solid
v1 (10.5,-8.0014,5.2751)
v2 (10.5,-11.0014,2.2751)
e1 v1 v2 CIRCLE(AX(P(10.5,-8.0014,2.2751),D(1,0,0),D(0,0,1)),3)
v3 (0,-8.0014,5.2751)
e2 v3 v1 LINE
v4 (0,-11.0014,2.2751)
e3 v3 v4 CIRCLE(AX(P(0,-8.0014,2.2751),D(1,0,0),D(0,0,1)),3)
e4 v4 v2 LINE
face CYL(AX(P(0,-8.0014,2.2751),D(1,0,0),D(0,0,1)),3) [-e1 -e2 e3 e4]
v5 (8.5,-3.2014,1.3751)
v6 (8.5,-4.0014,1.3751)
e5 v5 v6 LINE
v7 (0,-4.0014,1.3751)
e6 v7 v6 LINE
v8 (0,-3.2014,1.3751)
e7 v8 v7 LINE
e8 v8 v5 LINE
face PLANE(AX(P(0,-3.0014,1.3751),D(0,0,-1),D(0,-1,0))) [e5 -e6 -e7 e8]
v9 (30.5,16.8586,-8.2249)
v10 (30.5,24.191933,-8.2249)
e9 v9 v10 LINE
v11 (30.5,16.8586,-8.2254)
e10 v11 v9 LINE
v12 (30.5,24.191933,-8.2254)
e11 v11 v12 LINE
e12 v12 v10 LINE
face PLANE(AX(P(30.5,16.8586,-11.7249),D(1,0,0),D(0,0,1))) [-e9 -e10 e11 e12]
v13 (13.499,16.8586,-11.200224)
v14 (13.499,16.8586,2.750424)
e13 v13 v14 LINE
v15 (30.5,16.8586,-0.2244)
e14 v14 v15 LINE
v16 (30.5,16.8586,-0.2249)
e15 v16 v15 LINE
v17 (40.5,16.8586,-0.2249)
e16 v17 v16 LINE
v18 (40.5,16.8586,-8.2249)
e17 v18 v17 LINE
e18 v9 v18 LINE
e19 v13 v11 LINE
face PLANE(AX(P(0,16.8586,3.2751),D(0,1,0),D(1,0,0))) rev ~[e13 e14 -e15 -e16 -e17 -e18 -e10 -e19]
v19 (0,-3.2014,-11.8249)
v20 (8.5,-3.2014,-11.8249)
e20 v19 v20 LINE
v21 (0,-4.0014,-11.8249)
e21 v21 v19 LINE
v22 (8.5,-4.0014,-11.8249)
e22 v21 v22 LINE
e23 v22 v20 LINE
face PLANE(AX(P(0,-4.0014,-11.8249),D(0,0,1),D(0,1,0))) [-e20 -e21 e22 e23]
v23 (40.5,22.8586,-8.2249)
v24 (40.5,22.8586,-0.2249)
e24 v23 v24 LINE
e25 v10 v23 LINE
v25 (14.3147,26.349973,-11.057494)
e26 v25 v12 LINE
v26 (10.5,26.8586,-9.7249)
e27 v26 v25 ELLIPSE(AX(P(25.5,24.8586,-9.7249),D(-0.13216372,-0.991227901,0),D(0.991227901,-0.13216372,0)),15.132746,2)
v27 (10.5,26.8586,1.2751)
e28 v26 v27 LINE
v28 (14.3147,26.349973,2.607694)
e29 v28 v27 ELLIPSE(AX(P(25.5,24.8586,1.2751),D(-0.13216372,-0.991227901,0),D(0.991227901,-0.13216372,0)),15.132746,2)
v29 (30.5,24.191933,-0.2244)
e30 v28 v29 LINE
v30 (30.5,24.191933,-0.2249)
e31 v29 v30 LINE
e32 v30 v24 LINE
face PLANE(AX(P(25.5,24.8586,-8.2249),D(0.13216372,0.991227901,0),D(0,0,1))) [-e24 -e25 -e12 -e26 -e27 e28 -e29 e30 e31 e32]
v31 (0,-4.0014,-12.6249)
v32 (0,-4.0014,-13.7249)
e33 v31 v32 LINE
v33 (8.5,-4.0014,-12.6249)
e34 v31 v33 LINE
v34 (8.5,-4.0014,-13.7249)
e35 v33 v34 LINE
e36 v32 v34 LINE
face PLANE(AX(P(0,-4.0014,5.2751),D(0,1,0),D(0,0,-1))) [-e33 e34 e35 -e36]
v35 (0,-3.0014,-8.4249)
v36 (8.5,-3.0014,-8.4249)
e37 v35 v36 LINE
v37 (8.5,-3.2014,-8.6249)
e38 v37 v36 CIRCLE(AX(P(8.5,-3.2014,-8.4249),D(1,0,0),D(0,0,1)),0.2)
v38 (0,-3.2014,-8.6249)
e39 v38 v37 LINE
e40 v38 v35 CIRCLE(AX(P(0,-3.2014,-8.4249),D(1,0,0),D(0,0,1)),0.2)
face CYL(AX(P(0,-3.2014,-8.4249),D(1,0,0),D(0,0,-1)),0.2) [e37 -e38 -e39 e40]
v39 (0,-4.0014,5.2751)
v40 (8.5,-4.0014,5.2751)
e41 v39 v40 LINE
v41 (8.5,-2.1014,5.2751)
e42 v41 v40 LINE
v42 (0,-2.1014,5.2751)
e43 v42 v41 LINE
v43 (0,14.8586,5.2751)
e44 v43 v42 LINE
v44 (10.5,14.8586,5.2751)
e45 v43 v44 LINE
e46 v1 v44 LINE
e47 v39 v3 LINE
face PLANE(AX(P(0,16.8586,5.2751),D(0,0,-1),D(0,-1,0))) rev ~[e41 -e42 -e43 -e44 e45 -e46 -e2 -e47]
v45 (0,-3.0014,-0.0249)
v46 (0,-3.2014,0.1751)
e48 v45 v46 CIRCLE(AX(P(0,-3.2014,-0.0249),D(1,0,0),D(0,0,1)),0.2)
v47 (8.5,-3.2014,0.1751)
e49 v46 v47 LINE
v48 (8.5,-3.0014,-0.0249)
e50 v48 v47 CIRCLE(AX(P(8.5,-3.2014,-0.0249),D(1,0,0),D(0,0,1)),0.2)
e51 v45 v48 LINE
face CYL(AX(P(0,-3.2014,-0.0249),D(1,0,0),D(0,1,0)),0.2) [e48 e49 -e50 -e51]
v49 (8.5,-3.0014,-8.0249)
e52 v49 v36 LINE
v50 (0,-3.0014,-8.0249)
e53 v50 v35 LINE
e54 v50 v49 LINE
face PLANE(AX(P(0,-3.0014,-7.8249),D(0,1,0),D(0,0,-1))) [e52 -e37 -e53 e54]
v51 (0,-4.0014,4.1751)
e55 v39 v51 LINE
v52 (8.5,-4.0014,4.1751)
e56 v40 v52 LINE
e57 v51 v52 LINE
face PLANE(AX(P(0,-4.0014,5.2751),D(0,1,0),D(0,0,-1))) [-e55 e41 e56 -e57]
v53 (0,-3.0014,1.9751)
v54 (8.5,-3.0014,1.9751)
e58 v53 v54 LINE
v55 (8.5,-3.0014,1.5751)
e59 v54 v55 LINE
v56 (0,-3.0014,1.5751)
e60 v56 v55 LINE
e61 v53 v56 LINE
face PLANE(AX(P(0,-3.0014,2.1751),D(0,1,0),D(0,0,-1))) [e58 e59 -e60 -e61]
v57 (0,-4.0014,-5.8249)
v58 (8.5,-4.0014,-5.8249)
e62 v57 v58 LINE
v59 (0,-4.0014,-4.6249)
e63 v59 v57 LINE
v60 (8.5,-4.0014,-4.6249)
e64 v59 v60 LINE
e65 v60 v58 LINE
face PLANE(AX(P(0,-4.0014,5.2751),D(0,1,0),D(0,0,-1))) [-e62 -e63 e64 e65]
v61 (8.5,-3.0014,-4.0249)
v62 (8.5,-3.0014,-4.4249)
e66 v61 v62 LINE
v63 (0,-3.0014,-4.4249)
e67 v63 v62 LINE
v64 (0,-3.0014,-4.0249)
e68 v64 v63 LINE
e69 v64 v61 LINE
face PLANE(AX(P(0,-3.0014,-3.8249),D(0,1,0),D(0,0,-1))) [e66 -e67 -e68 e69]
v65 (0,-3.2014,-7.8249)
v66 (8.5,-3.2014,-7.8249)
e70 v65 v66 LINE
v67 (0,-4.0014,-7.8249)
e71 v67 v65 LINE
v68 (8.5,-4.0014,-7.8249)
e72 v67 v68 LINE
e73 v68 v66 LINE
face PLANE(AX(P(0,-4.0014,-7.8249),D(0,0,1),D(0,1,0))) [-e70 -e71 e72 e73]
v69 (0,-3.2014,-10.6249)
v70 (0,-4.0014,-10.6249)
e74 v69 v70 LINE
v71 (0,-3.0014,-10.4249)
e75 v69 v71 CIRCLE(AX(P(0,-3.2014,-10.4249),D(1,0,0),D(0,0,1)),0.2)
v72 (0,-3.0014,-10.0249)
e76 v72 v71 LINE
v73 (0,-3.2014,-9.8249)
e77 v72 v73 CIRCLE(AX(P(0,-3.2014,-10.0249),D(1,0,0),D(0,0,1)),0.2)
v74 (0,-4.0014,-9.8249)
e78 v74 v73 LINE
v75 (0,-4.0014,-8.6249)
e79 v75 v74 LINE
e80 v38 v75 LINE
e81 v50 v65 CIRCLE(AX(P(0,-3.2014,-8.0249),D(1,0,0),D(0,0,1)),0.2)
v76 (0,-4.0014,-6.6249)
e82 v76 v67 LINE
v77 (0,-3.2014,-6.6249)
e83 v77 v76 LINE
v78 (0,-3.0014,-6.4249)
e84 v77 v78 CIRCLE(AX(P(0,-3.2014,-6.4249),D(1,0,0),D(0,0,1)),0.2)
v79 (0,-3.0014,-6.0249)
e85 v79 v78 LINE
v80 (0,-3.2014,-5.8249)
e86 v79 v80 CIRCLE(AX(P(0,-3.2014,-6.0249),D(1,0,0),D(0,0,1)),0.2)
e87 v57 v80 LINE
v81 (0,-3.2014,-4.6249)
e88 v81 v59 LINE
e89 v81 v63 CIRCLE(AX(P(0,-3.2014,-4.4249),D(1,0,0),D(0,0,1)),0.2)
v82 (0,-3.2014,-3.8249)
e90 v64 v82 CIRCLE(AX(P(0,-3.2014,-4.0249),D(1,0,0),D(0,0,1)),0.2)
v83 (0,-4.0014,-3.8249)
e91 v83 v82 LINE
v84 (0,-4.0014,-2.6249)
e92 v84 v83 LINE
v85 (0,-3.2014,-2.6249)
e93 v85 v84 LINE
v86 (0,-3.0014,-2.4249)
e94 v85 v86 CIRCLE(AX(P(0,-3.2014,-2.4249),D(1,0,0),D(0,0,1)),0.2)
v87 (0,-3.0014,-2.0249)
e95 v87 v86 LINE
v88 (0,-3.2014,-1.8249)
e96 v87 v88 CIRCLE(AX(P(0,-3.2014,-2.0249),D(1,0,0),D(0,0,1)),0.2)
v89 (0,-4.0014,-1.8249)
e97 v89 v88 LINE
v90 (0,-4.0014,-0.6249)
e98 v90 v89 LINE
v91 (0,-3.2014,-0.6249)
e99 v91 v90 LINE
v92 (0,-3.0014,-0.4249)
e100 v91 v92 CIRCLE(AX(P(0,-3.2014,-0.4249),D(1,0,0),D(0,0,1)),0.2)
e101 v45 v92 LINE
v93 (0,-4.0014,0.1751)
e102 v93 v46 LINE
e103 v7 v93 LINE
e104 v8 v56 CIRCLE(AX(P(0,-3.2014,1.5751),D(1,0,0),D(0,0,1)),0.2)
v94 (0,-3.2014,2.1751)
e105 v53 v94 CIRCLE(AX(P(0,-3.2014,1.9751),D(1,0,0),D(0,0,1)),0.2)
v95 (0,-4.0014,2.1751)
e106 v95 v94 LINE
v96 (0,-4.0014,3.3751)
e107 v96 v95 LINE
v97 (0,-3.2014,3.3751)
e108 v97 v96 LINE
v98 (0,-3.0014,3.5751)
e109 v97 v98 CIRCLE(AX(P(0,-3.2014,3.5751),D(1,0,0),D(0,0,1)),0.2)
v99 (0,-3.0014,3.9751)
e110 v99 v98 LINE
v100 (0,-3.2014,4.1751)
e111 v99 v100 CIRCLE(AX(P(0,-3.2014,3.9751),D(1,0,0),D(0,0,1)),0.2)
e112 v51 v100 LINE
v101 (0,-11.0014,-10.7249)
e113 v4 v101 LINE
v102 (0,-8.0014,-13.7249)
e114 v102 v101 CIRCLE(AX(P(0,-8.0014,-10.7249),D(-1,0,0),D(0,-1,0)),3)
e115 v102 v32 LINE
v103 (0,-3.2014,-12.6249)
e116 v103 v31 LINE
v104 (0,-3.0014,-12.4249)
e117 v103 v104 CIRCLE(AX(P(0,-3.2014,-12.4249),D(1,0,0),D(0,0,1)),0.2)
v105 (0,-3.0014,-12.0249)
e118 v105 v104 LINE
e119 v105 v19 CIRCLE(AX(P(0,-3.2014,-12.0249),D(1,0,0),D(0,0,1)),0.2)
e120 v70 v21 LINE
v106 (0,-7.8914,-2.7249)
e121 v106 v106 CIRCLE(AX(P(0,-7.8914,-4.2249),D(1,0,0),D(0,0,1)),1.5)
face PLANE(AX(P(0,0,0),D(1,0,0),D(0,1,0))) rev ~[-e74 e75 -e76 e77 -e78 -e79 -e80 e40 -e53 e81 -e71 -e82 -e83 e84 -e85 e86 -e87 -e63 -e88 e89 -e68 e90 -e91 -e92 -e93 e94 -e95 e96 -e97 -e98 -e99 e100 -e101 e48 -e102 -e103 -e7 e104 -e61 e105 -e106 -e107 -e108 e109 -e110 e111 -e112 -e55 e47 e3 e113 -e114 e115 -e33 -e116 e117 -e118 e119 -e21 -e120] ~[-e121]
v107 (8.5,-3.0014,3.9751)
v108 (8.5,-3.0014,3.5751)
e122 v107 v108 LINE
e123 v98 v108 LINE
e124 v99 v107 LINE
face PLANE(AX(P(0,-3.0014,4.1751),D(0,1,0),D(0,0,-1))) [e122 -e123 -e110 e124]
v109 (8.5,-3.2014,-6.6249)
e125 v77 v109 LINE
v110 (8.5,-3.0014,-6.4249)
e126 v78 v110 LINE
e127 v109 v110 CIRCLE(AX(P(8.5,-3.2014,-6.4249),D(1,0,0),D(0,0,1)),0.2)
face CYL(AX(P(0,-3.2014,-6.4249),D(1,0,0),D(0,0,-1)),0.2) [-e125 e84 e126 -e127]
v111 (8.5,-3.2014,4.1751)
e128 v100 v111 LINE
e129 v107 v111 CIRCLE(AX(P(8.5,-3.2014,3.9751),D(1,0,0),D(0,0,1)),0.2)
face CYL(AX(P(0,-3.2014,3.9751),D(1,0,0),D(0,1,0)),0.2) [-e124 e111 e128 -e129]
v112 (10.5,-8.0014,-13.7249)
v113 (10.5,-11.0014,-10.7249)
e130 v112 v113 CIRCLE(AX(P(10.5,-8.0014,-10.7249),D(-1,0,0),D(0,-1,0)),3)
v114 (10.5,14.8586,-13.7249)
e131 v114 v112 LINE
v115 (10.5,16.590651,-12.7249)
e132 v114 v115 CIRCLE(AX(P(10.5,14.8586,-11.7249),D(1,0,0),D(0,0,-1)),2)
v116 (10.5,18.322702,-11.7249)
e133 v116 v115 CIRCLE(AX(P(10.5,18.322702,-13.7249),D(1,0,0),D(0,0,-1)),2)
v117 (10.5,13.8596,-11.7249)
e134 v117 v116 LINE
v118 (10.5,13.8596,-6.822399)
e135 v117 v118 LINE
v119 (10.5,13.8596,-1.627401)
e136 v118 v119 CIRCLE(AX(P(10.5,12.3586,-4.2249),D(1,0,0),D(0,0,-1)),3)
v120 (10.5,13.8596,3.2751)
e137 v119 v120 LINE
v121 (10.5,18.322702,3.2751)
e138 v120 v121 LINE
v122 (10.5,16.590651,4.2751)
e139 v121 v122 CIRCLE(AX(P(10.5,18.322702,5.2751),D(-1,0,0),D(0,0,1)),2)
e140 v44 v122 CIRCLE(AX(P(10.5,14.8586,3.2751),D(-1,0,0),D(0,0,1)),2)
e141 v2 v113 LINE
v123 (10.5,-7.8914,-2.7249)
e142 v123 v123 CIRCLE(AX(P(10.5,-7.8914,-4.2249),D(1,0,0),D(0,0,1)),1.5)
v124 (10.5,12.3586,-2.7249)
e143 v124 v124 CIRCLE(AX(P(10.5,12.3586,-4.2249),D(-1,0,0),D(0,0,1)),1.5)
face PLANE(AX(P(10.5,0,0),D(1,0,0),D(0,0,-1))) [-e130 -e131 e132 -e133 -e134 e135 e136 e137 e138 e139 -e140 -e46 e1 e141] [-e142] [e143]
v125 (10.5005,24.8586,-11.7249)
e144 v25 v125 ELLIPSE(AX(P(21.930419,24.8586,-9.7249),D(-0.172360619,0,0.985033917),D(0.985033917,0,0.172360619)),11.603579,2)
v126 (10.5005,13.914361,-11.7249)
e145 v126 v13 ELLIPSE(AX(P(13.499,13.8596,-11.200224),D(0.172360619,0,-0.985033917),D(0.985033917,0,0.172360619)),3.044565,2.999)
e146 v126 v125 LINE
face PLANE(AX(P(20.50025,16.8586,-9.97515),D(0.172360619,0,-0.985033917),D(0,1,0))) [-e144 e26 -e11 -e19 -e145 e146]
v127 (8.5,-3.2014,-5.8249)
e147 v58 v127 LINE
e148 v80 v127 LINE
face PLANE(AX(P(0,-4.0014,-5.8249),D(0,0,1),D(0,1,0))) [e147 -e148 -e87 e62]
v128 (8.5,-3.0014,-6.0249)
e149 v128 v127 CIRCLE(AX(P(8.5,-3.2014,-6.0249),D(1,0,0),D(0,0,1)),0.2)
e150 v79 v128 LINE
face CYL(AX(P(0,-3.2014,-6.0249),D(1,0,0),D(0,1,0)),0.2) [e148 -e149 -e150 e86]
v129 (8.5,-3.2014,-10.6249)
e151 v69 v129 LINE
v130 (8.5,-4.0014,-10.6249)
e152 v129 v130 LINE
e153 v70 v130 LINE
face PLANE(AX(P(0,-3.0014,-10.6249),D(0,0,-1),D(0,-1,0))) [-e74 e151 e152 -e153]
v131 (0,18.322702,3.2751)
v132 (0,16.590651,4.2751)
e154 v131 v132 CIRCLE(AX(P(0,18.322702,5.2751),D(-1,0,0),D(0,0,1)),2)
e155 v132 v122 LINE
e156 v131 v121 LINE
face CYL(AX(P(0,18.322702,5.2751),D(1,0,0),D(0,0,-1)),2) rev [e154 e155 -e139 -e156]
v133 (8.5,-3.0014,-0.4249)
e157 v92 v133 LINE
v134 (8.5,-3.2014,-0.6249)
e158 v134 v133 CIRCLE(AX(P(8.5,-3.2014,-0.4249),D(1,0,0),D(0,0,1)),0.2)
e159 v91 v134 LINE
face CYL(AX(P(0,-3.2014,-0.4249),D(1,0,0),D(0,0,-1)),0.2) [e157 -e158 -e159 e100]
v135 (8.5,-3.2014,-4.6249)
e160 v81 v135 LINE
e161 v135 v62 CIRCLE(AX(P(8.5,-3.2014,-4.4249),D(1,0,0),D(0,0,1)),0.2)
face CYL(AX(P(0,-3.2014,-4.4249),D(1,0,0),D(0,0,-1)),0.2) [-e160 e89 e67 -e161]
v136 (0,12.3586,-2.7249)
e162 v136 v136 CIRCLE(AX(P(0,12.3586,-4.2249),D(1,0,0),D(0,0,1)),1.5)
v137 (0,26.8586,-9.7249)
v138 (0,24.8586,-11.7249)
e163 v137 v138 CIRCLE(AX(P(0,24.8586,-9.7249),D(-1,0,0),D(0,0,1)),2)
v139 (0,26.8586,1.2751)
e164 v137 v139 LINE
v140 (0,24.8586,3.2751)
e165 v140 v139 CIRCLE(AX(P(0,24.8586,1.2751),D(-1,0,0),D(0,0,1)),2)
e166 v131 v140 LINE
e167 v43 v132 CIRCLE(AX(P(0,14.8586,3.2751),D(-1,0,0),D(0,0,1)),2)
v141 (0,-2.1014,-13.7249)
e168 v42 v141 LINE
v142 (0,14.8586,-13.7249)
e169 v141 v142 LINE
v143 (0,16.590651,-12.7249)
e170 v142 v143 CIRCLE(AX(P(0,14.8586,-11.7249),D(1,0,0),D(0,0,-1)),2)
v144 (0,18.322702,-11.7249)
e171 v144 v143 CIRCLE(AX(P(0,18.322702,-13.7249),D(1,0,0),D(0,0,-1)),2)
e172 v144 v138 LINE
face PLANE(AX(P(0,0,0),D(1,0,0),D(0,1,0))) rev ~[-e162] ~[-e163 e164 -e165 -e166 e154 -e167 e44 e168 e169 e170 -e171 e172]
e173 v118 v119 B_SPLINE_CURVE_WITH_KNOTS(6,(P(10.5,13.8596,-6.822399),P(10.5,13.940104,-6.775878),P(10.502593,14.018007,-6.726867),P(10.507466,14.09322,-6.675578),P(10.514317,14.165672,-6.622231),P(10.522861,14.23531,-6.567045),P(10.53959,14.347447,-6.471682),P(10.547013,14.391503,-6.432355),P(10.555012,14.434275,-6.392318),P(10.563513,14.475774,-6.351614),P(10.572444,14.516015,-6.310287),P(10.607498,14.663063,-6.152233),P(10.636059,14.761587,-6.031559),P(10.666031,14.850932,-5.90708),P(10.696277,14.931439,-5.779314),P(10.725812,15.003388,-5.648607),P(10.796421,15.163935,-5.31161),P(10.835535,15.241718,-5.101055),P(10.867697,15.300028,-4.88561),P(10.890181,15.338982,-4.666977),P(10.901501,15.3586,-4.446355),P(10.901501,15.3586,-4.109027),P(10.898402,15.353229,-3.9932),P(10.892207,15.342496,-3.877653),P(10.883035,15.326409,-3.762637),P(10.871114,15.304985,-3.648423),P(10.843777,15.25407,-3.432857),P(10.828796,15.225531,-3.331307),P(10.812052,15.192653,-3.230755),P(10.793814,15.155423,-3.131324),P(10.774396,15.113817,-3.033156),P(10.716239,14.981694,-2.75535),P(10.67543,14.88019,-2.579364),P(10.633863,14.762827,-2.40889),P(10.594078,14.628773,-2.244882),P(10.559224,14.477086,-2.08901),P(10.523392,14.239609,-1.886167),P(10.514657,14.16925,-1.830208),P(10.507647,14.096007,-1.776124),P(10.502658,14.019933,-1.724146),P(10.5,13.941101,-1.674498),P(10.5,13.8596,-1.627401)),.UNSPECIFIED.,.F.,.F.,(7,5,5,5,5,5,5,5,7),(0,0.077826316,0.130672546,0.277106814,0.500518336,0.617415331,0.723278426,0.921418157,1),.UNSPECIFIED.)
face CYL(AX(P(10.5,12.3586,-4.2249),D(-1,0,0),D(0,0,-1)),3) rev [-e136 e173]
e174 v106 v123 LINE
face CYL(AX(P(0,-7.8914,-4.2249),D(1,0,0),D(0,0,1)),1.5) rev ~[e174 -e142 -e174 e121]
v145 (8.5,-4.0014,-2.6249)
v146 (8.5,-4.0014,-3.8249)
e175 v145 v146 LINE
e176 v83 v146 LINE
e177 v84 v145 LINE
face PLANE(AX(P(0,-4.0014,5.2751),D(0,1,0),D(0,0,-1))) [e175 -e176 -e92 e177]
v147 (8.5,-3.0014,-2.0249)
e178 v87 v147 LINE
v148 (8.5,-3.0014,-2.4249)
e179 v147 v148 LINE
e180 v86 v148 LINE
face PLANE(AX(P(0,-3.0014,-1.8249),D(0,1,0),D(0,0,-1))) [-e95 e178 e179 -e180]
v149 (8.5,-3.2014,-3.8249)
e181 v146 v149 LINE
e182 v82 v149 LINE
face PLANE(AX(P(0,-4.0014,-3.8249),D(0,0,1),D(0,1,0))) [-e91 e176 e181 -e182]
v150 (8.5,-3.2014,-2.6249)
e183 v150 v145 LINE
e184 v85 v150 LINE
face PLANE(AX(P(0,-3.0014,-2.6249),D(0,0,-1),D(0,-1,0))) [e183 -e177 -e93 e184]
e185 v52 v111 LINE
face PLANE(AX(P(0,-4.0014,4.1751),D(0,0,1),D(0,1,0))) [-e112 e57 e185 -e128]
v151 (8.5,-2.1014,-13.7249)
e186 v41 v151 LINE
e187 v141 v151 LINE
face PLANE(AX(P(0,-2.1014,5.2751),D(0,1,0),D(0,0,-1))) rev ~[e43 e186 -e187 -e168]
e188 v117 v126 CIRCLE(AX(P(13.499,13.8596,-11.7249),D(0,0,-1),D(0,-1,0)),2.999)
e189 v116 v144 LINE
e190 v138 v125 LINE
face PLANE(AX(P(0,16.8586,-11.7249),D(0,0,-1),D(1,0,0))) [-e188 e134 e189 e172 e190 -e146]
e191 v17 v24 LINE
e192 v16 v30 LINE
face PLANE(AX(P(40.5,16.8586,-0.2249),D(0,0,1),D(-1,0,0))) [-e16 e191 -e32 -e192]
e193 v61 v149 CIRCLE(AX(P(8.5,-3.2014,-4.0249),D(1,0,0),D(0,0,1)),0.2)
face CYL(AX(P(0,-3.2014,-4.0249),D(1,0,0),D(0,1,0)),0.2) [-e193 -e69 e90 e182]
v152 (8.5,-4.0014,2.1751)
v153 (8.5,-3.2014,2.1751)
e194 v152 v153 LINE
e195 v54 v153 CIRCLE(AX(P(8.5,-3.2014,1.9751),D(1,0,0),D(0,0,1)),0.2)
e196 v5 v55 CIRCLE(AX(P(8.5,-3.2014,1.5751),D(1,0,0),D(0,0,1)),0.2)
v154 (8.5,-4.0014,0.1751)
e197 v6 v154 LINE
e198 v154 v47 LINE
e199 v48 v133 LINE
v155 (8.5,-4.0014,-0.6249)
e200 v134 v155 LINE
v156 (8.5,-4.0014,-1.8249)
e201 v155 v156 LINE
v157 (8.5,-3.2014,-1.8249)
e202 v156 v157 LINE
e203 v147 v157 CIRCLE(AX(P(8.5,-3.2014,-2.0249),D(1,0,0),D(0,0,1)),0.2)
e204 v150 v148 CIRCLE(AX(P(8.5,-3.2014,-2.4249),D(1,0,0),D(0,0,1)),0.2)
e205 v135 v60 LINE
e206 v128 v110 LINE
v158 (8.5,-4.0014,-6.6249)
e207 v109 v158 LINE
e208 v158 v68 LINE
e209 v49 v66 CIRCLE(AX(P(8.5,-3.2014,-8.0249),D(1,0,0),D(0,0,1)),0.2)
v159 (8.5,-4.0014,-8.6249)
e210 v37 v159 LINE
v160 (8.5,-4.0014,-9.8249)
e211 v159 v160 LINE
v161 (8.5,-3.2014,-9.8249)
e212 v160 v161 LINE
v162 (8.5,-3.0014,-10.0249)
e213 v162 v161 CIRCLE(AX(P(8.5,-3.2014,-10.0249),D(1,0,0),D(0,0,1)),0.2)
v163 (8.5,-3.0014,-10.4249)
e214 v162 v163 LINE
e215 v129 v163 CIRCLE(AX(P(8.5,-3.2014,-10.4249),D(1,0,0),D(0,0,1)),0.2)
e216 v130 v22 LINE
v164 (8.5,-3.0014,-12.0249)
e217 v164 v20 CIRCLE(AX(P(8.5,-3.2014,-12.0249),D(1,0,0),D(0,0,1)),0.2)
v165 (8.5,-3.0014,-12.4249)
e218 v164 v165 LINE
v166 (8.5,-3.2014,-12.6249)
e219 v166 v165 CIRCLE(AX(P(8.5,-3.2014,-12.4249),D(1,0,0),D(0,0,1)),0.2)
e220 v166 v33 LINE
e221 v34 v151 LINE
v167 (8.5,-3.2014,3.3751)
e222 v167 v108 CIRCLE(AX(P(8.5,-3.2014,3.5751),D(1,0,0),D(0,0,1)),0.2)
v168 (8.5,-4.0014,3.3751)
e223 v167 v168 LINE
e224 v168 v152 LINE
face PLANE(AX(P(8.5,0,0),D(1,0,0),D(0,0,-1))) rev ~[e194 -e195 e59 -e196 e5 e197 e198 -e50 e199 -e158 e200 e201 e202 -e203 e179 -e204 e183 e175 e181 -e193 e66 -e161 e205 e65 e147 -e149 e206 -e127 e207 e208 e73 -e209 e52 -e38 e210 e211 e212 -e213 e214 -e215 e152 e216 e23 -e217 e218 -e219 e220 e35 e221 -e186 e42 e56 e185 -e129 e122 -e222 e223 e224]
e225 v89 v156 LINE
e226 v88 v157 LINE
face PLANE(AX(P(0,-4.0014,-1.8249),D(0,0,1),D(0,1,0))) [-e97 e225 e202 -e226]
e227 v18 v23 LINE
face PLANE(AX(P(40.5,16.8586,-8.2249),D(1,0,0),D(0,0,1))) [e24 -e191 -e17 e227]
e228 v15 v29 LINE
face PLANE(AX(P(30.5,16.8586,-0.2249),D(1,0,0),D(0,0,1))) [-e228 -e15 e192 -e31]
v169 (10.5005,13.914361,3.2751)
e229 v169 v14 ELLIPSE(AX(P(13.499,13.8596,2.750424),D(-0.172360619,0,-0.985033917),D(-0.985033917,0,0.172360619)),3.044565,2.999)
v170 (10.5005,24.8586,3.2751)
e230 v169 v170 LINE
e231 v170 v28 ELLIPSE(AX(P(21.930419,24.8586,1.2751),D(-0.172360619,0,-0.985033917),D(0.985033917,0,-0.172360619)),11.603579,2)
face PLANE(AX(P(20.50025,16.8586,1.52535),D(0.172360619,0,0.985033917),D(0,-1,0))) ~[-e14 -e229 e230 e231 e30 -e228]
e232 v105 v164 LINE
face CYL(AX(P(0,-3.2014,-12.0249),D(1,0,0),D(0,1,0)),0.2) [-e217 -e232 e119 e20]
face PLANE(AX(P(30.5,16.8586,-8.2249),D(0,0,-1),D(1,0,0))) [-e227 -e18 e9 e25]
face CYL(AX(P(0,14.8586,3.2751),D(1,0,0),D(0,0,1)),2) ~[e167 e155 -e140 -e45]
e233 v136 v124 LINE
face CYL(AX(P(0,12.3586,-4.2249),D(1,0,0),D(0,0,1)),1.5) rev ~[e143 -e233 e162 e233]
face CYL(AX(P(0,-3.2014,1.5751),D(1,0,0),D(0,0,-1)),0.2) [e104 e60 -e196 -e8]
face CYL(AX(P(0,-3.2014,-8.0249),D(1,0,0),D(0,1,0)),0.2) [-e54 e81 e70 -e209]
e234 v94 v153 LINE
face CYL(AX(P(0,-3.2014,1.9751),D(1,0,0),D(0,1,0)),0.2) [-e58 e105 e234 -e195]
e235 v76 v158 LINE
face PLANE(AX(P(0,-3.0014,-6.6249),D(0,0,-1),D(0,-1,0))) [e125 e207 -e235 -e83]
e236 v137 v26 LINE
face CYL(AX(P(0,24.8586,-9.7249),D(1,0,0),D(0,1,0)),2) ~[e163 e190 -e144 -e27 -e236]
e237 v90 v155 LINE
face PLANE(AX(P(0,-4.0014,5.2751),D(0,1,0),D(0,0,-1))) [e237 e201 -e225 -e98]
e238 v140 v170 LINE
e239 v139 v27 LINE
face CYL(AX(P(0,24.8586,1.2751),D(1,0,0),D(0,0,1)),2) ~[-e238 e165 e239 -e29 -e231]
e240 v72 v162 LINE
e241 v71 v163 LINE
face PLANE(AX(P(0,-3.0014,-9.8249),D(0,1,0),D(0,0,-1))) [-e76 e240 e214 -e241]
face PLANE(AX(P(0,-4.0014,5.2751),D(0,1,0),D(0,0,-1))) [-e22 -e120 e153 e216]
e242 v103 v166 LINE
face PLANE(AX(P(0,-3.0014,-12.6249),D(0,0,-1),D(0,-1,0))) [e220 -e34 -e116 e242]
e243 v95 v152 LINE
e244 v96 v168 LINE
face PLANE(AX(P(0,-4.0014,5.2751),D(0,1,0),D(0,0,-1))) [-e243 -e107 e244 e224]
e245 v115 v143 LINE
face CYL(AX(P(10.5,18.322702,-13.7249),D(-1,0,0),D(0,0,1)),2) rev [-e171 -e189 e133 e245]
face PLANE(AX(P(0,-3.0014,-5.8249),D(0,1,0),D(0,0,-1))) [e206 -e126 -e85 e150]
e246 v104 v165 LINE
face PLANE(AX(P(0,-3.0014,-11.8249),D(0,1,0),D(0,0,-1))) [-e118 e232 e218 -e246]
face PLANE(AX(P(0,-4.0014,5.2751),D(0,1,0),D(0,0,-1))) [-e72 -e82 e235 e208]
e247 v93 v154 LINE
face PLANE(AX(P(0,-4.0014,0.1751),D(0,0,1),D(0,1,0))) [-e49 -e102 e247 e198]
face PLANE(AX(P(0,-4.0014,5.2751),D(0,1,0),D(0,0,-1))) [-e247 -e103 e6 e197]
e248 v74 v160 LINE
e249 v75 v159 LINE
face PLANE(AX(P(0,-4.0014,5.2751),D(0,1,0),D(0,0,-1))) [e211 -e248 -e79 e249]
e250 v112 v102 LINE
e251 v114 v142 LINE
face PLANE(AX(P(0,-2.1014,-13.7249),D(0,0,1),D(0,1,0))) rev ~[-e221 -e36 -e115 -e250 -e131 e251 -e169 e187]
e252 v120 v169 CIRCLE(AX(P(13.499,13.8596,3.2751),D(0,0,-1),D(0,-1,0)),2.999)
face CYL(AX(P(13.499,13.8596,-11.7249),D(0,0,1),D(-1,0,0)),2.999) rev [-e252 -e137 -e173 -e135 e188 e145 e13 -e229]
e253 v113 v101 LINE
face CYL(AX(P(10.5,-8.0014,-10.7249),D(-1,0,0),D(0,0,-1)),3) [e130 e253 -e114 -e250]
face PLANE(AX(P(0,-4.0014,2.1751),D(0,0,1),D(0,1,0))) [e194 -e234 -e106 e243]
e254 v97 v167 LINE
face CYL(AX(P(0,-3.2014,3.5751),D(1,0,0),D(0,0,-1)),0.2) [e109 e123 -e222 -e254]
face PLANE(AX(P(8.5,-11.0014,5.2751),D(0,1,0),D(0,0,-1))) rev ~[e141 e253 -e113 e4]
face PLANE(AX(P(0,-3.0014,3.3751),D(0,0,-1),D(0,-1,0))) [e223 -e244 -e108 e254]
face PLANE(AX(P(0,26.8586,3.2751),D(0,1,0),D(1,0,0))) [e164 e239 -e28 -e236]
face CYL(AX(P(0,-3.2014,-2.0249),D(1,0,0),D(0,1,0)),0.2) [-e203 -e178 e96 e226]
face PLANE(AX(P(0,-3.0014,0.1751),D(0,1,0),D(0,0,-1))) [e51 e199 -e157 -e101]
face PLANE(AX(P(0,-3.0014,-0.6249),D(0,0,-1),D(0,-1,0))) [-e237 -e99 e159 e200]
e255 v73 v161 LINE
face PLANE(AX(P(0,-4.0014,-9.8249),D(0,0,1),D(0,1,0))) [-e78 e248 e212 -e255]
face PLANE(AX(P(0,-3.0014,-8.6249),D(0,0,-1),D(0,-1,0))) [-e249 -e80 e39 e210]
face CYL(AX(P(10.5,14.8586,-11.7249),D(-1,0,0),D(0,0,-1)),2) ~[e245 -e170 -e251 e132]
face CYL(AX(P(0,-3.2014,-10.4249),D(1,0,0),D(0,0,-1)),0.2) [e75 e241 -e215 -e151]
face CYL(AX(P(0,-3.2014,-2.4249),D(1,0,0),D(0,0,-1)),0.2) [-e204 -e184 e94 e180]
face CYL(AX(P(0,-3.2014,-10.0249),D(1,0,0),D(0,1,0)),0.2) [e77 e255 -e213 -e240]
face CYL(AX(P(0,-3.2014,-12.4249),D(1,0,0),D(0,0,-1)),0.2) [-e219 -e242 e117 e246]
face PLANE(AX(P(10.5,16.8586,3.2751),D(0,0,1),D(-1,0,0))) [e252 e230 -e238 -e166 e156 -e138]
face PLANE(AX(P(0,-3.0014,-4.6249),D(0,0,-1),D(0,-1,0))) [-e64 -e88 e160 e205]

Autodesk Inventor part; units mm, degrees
ref_plane "YZ Plane" through (0, 0, 0) normal (1, 0, 0) x (0, 1, 0)
ref_plane "XZ Plane" through (0, 0, 0) normal (0, 1, 0) x (-1, 0, 0)
ref_plane "XY Plane" through (0, 0, 0) normal (0, 0, 1) x (1, 0, 0)
sketch "Sketch1" plane through (0, 0, 0) normal (1, 0, 0) x (0, 1, 0)
  line L0 (16.8586, 5.2751) -> (-11.0014, 5.2751)
  line L1 (-11.0014, 5.2751) -> (-11.0014, -13.7249)
  line L2 (-11.0014, -13.7249) -> (16.8586, -13.7249)
  line L3 (16.8586, -13.7249) -> (16.8586, 5.2751)
  line L4 (-2.1014, 5.2751) -> (-2.1014, -13.7249)
  line L5 (-4.0014, 5.2751) -> (-4.0014, -13.7249)
  point P0 (0, 0)
  point P1 (12.3586, -4.2249)
  point P2 (-7.8914, -4.2249)
  dimension "d1" = 19
  dimension "d2" = 1.9
  dimension "d3" = 18.96
  dimension "d4" = 7
  dimension "d19" = 9.5
  dimension "d39" = 20.25
  dimension "d40" = 4.5
extrude "Extrusion1" add sketch "Sketch1" along normal blind 8.5 contours L3 L2 L4 L0 | L5 L2 L1 L0
sketch "Sketch2" plane through (8.5, 0, 0) normal (1, 0, 0) x (0, 0, -1)
  line L0 (-5.2751, 16.8586) -> (-5.2751, -2.1014) projected
  line L1 (-5.2751, -2.1014) -> (13.7249, -2.1014) projected
  line L2 (13.7249, -2.1014) -> (13.7249, 16.8586) projected
  line L3 (13.7249, 16.8586) -> (-5.2751, 16.8586) projected
  line L4 (13.7249, -11.0014) -> (13.7249, -4.0014) projected
  line L5 (13.7249, -4.0014) -> (-5.2751, -4.0014) projected
  line L6 (-5.2751, -4.0014) -> (-5.2751, -11.0014) projected
  line L7 (-5.2751, -11.0014) -> (13.7249, -11.0014) projected
  line L8 (-5.2751, -2.1014) -> (-5.2751, -4.0014)
  line L9 (13.7249, -2.1014) -> (13.7249, 16.8586) projected
  line L10 (13.7249, -11.0014) -> (13.7249, -4.0014) projected
  line L11 (13.7249, -2.1014) -> (13.7249, -4.0014)
  point P0 (0, 0)
extrude "Extrusion2" add sketch "Sketch2" along normal blind 2
sketch "Sketch3" plane through (0, 0, 0) normal (-1, 0, 0) x (0, 0, 1)
  line L0 (-13.7249, -11.0014) -> (-13.7249, -4.0014) projected
  line L1 (5.2751, -11.0014) -> (-13.7249, -11.0014) projected
  line L2 (5.2751, -4.0014) -> (5.2751, -11.0014) projected
  line L3 (-13.7249, -4.0014) -> (5.2751, -4.0014) projected
  line L4 (5.2751, 16.8586) -> (5.2751, -2.1014) projected
  line L5 (-13.7249, 16.8586) -> (5.2751, 16.8586) projected
  line L6 (-13.7249, -2.1014) -> (-13.7249, 16.8586) projected
  line L7 (5.2751, -2.1014) -> (-13.7249, -2.1014) projected
  line L8 (-12.6249, -4.0014) -> (-11.8249, -4.0014)
  line L9 (-11.8249, -4.0014) -> (-11.8249, -3.0014)
  line L10 (-11.8249, -3.0014) -> (-12.6249, -3.0014)
  line L11 (-12.6249, -3.0014) -> (-12.6249, -4.0014)
  point P0 (0, 0)
  dimension "d9" = 1
  dimension "d10" = 0.8
  dimension "d11" = 1.1
extrude "Extrusion3" add sketch "Sketch3" against normal up to surface (8.5 mm away) contours L11 L10 L9 L3
fillet "Fillet1" radius 0.2 2 edges at (4.25, -3.0014, -12.6249) (4.25, -3.0014, -11.8249)
pattern_linear "Rectangular Pattern1" count 9 spacing 2 along (0, 0, 1) of "Extrusion3", "Fillet1"
hole "Hole2" at (0, 12.3586, -4.2249) at (0, -7.8914, -4.2249) direction (1, 0, 0) diameter 3 end through all
fillet "Fillet3" radius 3 2 edges at (5.25, -11.0014, -13.7249) (5.25, -11.0014, 5.2751)
fillet "Fillet3" radius 2 2 edges at (5.25, 16.8586, 5.2751) (5.25, 16.8586, -13.7249)
sketch "Sketch4" plane through (0, 16.8586, 3.2751) normal (0, 1, 0) x (1, 0, 0)
  line L0 (0, 15) -> (10.5, 15) projected
  line L1 (0, 15) -> (0, 0) projected
  line L2 (10.5, 0) -> (0, 0) projected
  line L3 (10.5, 15) -> (10.5, 0) projected
  line L4 (10.5, 17) -> (10.5, 15) projected
  line L5 (10.5, 15) -> (30.5, 15)
  line L6 (30.5, 15) -> (30.5, 0)
  line L7 (30.5, 0) -> (10.5, 0)
  line L8 (30.5, 11.5) -> (40.5, 11.5)
  line L9 (40.5, 11.5) -> (40.5, 3.5)
  line L10 (40.5, 3.5) -> (30.5, 3.5)
  point P0 (0, 3.2751)
  dimension "d50" = 20
  dimension "d51" = 15
  dimension "d52" = 8
  dimension "d53" = 3.5
  dimension "d54" = 10
extrude "Extrusion4" add sketch "Sketch4" along normal blind 10
chamfer "Chamfer4" distance 20 distance2 3.5 1 edges at (30.5, 21.8586, 3.2751) measured on face at (13.6667, 23.5253, 3.2751)
chamfer "Chamfer5" distance 20 distance2 3.5 1 edges at (30.5, 21.8586, -11.7249) measured on face at (13.6667, 23.5253, -11.7249)
chamfer "Chamfer6" distance 30 distance2 4 1 edges at (40.5, 26.8586, -4.2249) measured on face at (17.167, 26.8586, -2.8915)
fillet "Fillet4" radius 2 4 edges at (5.25, 16.8586, 3.2751) (5.25, 26.8586, 3.2751) (5.25, 26.8586, -11.7249) (5.25, 16.8586, -11.7249)
fillet "Fillet4" radius 3 1 edges at (10.5, 16.8586, -4.2249)
sketch "Sketch5" plane through (10.5, -8.0014, 5.2751) normal (1, 0, 0) x (0, 0, -1)
  line L0 (2, 26.3241) -> (2, 21.86) projected
  arc A0 (1, 24.5921) -> (2, 26.3241) centre (0, 26.3241) ccw projected
  arc A1 (1, 24.5921) -> (0, 22.86) centre (2, 22.86) ccw projected
  line L1 (0, 22.86) -> (0, 0) projected
  arc A2 (0, 0) -> (3, -3) centre (3, 0) ccw projected
  line L2 (3, -3) -> (16, -3) projected
  arc A3 (16, -3) -> (19, 0) centre (16, 0) ccw projected
  line L3 (19, 0) -> (19, 22.86) projected
  arc A4 (19, 22.86) -> (18, 24.5921) centre (17, 22.86) ccw projected
  arc A5 (17, 26.3241) -> (18, 24.5921) centre (19, 26.3241) ccw projected
  line L4 (17, 21.86) -> (17, 26.3241) projected
  line L5 (9.5, 21.86) -> (17, 21.86) projected
  circle A6 centre (9.5, 20.36) radius 1.5 projected
  line L6 (2, 21.86) -> (9.5, 21.86) projected
  circle A7 centre (9.5, 0.11) radius 1.5 projected
  circle A8 centre (9.5, 20.36) radius 1.5 projected
  circle A9 centre (9.5, 20.36) radius 3
  point P0 (5.2751, 8.0014)
  dimension "d68" = 6
extrude "Extrusion5" cut sketch "Sketch5" along normal blind 10 contours A9 L5 L6 | L6 L5 A9
sketch "Sketch6" plane through (30.5, 16.8586, -0.2249) normal (0, 0, 1) x (1, 0, 0)
  point P0 (-30.5, -16.8586)
equation "\"d19\" = 0.5 * d1"
equation "\"d53\" = -0.5 * d52 + 0.5 * d51"
properties part number "3DP_PLA_X_axis_carriage_belt_mount" material "ABS Plastic"
